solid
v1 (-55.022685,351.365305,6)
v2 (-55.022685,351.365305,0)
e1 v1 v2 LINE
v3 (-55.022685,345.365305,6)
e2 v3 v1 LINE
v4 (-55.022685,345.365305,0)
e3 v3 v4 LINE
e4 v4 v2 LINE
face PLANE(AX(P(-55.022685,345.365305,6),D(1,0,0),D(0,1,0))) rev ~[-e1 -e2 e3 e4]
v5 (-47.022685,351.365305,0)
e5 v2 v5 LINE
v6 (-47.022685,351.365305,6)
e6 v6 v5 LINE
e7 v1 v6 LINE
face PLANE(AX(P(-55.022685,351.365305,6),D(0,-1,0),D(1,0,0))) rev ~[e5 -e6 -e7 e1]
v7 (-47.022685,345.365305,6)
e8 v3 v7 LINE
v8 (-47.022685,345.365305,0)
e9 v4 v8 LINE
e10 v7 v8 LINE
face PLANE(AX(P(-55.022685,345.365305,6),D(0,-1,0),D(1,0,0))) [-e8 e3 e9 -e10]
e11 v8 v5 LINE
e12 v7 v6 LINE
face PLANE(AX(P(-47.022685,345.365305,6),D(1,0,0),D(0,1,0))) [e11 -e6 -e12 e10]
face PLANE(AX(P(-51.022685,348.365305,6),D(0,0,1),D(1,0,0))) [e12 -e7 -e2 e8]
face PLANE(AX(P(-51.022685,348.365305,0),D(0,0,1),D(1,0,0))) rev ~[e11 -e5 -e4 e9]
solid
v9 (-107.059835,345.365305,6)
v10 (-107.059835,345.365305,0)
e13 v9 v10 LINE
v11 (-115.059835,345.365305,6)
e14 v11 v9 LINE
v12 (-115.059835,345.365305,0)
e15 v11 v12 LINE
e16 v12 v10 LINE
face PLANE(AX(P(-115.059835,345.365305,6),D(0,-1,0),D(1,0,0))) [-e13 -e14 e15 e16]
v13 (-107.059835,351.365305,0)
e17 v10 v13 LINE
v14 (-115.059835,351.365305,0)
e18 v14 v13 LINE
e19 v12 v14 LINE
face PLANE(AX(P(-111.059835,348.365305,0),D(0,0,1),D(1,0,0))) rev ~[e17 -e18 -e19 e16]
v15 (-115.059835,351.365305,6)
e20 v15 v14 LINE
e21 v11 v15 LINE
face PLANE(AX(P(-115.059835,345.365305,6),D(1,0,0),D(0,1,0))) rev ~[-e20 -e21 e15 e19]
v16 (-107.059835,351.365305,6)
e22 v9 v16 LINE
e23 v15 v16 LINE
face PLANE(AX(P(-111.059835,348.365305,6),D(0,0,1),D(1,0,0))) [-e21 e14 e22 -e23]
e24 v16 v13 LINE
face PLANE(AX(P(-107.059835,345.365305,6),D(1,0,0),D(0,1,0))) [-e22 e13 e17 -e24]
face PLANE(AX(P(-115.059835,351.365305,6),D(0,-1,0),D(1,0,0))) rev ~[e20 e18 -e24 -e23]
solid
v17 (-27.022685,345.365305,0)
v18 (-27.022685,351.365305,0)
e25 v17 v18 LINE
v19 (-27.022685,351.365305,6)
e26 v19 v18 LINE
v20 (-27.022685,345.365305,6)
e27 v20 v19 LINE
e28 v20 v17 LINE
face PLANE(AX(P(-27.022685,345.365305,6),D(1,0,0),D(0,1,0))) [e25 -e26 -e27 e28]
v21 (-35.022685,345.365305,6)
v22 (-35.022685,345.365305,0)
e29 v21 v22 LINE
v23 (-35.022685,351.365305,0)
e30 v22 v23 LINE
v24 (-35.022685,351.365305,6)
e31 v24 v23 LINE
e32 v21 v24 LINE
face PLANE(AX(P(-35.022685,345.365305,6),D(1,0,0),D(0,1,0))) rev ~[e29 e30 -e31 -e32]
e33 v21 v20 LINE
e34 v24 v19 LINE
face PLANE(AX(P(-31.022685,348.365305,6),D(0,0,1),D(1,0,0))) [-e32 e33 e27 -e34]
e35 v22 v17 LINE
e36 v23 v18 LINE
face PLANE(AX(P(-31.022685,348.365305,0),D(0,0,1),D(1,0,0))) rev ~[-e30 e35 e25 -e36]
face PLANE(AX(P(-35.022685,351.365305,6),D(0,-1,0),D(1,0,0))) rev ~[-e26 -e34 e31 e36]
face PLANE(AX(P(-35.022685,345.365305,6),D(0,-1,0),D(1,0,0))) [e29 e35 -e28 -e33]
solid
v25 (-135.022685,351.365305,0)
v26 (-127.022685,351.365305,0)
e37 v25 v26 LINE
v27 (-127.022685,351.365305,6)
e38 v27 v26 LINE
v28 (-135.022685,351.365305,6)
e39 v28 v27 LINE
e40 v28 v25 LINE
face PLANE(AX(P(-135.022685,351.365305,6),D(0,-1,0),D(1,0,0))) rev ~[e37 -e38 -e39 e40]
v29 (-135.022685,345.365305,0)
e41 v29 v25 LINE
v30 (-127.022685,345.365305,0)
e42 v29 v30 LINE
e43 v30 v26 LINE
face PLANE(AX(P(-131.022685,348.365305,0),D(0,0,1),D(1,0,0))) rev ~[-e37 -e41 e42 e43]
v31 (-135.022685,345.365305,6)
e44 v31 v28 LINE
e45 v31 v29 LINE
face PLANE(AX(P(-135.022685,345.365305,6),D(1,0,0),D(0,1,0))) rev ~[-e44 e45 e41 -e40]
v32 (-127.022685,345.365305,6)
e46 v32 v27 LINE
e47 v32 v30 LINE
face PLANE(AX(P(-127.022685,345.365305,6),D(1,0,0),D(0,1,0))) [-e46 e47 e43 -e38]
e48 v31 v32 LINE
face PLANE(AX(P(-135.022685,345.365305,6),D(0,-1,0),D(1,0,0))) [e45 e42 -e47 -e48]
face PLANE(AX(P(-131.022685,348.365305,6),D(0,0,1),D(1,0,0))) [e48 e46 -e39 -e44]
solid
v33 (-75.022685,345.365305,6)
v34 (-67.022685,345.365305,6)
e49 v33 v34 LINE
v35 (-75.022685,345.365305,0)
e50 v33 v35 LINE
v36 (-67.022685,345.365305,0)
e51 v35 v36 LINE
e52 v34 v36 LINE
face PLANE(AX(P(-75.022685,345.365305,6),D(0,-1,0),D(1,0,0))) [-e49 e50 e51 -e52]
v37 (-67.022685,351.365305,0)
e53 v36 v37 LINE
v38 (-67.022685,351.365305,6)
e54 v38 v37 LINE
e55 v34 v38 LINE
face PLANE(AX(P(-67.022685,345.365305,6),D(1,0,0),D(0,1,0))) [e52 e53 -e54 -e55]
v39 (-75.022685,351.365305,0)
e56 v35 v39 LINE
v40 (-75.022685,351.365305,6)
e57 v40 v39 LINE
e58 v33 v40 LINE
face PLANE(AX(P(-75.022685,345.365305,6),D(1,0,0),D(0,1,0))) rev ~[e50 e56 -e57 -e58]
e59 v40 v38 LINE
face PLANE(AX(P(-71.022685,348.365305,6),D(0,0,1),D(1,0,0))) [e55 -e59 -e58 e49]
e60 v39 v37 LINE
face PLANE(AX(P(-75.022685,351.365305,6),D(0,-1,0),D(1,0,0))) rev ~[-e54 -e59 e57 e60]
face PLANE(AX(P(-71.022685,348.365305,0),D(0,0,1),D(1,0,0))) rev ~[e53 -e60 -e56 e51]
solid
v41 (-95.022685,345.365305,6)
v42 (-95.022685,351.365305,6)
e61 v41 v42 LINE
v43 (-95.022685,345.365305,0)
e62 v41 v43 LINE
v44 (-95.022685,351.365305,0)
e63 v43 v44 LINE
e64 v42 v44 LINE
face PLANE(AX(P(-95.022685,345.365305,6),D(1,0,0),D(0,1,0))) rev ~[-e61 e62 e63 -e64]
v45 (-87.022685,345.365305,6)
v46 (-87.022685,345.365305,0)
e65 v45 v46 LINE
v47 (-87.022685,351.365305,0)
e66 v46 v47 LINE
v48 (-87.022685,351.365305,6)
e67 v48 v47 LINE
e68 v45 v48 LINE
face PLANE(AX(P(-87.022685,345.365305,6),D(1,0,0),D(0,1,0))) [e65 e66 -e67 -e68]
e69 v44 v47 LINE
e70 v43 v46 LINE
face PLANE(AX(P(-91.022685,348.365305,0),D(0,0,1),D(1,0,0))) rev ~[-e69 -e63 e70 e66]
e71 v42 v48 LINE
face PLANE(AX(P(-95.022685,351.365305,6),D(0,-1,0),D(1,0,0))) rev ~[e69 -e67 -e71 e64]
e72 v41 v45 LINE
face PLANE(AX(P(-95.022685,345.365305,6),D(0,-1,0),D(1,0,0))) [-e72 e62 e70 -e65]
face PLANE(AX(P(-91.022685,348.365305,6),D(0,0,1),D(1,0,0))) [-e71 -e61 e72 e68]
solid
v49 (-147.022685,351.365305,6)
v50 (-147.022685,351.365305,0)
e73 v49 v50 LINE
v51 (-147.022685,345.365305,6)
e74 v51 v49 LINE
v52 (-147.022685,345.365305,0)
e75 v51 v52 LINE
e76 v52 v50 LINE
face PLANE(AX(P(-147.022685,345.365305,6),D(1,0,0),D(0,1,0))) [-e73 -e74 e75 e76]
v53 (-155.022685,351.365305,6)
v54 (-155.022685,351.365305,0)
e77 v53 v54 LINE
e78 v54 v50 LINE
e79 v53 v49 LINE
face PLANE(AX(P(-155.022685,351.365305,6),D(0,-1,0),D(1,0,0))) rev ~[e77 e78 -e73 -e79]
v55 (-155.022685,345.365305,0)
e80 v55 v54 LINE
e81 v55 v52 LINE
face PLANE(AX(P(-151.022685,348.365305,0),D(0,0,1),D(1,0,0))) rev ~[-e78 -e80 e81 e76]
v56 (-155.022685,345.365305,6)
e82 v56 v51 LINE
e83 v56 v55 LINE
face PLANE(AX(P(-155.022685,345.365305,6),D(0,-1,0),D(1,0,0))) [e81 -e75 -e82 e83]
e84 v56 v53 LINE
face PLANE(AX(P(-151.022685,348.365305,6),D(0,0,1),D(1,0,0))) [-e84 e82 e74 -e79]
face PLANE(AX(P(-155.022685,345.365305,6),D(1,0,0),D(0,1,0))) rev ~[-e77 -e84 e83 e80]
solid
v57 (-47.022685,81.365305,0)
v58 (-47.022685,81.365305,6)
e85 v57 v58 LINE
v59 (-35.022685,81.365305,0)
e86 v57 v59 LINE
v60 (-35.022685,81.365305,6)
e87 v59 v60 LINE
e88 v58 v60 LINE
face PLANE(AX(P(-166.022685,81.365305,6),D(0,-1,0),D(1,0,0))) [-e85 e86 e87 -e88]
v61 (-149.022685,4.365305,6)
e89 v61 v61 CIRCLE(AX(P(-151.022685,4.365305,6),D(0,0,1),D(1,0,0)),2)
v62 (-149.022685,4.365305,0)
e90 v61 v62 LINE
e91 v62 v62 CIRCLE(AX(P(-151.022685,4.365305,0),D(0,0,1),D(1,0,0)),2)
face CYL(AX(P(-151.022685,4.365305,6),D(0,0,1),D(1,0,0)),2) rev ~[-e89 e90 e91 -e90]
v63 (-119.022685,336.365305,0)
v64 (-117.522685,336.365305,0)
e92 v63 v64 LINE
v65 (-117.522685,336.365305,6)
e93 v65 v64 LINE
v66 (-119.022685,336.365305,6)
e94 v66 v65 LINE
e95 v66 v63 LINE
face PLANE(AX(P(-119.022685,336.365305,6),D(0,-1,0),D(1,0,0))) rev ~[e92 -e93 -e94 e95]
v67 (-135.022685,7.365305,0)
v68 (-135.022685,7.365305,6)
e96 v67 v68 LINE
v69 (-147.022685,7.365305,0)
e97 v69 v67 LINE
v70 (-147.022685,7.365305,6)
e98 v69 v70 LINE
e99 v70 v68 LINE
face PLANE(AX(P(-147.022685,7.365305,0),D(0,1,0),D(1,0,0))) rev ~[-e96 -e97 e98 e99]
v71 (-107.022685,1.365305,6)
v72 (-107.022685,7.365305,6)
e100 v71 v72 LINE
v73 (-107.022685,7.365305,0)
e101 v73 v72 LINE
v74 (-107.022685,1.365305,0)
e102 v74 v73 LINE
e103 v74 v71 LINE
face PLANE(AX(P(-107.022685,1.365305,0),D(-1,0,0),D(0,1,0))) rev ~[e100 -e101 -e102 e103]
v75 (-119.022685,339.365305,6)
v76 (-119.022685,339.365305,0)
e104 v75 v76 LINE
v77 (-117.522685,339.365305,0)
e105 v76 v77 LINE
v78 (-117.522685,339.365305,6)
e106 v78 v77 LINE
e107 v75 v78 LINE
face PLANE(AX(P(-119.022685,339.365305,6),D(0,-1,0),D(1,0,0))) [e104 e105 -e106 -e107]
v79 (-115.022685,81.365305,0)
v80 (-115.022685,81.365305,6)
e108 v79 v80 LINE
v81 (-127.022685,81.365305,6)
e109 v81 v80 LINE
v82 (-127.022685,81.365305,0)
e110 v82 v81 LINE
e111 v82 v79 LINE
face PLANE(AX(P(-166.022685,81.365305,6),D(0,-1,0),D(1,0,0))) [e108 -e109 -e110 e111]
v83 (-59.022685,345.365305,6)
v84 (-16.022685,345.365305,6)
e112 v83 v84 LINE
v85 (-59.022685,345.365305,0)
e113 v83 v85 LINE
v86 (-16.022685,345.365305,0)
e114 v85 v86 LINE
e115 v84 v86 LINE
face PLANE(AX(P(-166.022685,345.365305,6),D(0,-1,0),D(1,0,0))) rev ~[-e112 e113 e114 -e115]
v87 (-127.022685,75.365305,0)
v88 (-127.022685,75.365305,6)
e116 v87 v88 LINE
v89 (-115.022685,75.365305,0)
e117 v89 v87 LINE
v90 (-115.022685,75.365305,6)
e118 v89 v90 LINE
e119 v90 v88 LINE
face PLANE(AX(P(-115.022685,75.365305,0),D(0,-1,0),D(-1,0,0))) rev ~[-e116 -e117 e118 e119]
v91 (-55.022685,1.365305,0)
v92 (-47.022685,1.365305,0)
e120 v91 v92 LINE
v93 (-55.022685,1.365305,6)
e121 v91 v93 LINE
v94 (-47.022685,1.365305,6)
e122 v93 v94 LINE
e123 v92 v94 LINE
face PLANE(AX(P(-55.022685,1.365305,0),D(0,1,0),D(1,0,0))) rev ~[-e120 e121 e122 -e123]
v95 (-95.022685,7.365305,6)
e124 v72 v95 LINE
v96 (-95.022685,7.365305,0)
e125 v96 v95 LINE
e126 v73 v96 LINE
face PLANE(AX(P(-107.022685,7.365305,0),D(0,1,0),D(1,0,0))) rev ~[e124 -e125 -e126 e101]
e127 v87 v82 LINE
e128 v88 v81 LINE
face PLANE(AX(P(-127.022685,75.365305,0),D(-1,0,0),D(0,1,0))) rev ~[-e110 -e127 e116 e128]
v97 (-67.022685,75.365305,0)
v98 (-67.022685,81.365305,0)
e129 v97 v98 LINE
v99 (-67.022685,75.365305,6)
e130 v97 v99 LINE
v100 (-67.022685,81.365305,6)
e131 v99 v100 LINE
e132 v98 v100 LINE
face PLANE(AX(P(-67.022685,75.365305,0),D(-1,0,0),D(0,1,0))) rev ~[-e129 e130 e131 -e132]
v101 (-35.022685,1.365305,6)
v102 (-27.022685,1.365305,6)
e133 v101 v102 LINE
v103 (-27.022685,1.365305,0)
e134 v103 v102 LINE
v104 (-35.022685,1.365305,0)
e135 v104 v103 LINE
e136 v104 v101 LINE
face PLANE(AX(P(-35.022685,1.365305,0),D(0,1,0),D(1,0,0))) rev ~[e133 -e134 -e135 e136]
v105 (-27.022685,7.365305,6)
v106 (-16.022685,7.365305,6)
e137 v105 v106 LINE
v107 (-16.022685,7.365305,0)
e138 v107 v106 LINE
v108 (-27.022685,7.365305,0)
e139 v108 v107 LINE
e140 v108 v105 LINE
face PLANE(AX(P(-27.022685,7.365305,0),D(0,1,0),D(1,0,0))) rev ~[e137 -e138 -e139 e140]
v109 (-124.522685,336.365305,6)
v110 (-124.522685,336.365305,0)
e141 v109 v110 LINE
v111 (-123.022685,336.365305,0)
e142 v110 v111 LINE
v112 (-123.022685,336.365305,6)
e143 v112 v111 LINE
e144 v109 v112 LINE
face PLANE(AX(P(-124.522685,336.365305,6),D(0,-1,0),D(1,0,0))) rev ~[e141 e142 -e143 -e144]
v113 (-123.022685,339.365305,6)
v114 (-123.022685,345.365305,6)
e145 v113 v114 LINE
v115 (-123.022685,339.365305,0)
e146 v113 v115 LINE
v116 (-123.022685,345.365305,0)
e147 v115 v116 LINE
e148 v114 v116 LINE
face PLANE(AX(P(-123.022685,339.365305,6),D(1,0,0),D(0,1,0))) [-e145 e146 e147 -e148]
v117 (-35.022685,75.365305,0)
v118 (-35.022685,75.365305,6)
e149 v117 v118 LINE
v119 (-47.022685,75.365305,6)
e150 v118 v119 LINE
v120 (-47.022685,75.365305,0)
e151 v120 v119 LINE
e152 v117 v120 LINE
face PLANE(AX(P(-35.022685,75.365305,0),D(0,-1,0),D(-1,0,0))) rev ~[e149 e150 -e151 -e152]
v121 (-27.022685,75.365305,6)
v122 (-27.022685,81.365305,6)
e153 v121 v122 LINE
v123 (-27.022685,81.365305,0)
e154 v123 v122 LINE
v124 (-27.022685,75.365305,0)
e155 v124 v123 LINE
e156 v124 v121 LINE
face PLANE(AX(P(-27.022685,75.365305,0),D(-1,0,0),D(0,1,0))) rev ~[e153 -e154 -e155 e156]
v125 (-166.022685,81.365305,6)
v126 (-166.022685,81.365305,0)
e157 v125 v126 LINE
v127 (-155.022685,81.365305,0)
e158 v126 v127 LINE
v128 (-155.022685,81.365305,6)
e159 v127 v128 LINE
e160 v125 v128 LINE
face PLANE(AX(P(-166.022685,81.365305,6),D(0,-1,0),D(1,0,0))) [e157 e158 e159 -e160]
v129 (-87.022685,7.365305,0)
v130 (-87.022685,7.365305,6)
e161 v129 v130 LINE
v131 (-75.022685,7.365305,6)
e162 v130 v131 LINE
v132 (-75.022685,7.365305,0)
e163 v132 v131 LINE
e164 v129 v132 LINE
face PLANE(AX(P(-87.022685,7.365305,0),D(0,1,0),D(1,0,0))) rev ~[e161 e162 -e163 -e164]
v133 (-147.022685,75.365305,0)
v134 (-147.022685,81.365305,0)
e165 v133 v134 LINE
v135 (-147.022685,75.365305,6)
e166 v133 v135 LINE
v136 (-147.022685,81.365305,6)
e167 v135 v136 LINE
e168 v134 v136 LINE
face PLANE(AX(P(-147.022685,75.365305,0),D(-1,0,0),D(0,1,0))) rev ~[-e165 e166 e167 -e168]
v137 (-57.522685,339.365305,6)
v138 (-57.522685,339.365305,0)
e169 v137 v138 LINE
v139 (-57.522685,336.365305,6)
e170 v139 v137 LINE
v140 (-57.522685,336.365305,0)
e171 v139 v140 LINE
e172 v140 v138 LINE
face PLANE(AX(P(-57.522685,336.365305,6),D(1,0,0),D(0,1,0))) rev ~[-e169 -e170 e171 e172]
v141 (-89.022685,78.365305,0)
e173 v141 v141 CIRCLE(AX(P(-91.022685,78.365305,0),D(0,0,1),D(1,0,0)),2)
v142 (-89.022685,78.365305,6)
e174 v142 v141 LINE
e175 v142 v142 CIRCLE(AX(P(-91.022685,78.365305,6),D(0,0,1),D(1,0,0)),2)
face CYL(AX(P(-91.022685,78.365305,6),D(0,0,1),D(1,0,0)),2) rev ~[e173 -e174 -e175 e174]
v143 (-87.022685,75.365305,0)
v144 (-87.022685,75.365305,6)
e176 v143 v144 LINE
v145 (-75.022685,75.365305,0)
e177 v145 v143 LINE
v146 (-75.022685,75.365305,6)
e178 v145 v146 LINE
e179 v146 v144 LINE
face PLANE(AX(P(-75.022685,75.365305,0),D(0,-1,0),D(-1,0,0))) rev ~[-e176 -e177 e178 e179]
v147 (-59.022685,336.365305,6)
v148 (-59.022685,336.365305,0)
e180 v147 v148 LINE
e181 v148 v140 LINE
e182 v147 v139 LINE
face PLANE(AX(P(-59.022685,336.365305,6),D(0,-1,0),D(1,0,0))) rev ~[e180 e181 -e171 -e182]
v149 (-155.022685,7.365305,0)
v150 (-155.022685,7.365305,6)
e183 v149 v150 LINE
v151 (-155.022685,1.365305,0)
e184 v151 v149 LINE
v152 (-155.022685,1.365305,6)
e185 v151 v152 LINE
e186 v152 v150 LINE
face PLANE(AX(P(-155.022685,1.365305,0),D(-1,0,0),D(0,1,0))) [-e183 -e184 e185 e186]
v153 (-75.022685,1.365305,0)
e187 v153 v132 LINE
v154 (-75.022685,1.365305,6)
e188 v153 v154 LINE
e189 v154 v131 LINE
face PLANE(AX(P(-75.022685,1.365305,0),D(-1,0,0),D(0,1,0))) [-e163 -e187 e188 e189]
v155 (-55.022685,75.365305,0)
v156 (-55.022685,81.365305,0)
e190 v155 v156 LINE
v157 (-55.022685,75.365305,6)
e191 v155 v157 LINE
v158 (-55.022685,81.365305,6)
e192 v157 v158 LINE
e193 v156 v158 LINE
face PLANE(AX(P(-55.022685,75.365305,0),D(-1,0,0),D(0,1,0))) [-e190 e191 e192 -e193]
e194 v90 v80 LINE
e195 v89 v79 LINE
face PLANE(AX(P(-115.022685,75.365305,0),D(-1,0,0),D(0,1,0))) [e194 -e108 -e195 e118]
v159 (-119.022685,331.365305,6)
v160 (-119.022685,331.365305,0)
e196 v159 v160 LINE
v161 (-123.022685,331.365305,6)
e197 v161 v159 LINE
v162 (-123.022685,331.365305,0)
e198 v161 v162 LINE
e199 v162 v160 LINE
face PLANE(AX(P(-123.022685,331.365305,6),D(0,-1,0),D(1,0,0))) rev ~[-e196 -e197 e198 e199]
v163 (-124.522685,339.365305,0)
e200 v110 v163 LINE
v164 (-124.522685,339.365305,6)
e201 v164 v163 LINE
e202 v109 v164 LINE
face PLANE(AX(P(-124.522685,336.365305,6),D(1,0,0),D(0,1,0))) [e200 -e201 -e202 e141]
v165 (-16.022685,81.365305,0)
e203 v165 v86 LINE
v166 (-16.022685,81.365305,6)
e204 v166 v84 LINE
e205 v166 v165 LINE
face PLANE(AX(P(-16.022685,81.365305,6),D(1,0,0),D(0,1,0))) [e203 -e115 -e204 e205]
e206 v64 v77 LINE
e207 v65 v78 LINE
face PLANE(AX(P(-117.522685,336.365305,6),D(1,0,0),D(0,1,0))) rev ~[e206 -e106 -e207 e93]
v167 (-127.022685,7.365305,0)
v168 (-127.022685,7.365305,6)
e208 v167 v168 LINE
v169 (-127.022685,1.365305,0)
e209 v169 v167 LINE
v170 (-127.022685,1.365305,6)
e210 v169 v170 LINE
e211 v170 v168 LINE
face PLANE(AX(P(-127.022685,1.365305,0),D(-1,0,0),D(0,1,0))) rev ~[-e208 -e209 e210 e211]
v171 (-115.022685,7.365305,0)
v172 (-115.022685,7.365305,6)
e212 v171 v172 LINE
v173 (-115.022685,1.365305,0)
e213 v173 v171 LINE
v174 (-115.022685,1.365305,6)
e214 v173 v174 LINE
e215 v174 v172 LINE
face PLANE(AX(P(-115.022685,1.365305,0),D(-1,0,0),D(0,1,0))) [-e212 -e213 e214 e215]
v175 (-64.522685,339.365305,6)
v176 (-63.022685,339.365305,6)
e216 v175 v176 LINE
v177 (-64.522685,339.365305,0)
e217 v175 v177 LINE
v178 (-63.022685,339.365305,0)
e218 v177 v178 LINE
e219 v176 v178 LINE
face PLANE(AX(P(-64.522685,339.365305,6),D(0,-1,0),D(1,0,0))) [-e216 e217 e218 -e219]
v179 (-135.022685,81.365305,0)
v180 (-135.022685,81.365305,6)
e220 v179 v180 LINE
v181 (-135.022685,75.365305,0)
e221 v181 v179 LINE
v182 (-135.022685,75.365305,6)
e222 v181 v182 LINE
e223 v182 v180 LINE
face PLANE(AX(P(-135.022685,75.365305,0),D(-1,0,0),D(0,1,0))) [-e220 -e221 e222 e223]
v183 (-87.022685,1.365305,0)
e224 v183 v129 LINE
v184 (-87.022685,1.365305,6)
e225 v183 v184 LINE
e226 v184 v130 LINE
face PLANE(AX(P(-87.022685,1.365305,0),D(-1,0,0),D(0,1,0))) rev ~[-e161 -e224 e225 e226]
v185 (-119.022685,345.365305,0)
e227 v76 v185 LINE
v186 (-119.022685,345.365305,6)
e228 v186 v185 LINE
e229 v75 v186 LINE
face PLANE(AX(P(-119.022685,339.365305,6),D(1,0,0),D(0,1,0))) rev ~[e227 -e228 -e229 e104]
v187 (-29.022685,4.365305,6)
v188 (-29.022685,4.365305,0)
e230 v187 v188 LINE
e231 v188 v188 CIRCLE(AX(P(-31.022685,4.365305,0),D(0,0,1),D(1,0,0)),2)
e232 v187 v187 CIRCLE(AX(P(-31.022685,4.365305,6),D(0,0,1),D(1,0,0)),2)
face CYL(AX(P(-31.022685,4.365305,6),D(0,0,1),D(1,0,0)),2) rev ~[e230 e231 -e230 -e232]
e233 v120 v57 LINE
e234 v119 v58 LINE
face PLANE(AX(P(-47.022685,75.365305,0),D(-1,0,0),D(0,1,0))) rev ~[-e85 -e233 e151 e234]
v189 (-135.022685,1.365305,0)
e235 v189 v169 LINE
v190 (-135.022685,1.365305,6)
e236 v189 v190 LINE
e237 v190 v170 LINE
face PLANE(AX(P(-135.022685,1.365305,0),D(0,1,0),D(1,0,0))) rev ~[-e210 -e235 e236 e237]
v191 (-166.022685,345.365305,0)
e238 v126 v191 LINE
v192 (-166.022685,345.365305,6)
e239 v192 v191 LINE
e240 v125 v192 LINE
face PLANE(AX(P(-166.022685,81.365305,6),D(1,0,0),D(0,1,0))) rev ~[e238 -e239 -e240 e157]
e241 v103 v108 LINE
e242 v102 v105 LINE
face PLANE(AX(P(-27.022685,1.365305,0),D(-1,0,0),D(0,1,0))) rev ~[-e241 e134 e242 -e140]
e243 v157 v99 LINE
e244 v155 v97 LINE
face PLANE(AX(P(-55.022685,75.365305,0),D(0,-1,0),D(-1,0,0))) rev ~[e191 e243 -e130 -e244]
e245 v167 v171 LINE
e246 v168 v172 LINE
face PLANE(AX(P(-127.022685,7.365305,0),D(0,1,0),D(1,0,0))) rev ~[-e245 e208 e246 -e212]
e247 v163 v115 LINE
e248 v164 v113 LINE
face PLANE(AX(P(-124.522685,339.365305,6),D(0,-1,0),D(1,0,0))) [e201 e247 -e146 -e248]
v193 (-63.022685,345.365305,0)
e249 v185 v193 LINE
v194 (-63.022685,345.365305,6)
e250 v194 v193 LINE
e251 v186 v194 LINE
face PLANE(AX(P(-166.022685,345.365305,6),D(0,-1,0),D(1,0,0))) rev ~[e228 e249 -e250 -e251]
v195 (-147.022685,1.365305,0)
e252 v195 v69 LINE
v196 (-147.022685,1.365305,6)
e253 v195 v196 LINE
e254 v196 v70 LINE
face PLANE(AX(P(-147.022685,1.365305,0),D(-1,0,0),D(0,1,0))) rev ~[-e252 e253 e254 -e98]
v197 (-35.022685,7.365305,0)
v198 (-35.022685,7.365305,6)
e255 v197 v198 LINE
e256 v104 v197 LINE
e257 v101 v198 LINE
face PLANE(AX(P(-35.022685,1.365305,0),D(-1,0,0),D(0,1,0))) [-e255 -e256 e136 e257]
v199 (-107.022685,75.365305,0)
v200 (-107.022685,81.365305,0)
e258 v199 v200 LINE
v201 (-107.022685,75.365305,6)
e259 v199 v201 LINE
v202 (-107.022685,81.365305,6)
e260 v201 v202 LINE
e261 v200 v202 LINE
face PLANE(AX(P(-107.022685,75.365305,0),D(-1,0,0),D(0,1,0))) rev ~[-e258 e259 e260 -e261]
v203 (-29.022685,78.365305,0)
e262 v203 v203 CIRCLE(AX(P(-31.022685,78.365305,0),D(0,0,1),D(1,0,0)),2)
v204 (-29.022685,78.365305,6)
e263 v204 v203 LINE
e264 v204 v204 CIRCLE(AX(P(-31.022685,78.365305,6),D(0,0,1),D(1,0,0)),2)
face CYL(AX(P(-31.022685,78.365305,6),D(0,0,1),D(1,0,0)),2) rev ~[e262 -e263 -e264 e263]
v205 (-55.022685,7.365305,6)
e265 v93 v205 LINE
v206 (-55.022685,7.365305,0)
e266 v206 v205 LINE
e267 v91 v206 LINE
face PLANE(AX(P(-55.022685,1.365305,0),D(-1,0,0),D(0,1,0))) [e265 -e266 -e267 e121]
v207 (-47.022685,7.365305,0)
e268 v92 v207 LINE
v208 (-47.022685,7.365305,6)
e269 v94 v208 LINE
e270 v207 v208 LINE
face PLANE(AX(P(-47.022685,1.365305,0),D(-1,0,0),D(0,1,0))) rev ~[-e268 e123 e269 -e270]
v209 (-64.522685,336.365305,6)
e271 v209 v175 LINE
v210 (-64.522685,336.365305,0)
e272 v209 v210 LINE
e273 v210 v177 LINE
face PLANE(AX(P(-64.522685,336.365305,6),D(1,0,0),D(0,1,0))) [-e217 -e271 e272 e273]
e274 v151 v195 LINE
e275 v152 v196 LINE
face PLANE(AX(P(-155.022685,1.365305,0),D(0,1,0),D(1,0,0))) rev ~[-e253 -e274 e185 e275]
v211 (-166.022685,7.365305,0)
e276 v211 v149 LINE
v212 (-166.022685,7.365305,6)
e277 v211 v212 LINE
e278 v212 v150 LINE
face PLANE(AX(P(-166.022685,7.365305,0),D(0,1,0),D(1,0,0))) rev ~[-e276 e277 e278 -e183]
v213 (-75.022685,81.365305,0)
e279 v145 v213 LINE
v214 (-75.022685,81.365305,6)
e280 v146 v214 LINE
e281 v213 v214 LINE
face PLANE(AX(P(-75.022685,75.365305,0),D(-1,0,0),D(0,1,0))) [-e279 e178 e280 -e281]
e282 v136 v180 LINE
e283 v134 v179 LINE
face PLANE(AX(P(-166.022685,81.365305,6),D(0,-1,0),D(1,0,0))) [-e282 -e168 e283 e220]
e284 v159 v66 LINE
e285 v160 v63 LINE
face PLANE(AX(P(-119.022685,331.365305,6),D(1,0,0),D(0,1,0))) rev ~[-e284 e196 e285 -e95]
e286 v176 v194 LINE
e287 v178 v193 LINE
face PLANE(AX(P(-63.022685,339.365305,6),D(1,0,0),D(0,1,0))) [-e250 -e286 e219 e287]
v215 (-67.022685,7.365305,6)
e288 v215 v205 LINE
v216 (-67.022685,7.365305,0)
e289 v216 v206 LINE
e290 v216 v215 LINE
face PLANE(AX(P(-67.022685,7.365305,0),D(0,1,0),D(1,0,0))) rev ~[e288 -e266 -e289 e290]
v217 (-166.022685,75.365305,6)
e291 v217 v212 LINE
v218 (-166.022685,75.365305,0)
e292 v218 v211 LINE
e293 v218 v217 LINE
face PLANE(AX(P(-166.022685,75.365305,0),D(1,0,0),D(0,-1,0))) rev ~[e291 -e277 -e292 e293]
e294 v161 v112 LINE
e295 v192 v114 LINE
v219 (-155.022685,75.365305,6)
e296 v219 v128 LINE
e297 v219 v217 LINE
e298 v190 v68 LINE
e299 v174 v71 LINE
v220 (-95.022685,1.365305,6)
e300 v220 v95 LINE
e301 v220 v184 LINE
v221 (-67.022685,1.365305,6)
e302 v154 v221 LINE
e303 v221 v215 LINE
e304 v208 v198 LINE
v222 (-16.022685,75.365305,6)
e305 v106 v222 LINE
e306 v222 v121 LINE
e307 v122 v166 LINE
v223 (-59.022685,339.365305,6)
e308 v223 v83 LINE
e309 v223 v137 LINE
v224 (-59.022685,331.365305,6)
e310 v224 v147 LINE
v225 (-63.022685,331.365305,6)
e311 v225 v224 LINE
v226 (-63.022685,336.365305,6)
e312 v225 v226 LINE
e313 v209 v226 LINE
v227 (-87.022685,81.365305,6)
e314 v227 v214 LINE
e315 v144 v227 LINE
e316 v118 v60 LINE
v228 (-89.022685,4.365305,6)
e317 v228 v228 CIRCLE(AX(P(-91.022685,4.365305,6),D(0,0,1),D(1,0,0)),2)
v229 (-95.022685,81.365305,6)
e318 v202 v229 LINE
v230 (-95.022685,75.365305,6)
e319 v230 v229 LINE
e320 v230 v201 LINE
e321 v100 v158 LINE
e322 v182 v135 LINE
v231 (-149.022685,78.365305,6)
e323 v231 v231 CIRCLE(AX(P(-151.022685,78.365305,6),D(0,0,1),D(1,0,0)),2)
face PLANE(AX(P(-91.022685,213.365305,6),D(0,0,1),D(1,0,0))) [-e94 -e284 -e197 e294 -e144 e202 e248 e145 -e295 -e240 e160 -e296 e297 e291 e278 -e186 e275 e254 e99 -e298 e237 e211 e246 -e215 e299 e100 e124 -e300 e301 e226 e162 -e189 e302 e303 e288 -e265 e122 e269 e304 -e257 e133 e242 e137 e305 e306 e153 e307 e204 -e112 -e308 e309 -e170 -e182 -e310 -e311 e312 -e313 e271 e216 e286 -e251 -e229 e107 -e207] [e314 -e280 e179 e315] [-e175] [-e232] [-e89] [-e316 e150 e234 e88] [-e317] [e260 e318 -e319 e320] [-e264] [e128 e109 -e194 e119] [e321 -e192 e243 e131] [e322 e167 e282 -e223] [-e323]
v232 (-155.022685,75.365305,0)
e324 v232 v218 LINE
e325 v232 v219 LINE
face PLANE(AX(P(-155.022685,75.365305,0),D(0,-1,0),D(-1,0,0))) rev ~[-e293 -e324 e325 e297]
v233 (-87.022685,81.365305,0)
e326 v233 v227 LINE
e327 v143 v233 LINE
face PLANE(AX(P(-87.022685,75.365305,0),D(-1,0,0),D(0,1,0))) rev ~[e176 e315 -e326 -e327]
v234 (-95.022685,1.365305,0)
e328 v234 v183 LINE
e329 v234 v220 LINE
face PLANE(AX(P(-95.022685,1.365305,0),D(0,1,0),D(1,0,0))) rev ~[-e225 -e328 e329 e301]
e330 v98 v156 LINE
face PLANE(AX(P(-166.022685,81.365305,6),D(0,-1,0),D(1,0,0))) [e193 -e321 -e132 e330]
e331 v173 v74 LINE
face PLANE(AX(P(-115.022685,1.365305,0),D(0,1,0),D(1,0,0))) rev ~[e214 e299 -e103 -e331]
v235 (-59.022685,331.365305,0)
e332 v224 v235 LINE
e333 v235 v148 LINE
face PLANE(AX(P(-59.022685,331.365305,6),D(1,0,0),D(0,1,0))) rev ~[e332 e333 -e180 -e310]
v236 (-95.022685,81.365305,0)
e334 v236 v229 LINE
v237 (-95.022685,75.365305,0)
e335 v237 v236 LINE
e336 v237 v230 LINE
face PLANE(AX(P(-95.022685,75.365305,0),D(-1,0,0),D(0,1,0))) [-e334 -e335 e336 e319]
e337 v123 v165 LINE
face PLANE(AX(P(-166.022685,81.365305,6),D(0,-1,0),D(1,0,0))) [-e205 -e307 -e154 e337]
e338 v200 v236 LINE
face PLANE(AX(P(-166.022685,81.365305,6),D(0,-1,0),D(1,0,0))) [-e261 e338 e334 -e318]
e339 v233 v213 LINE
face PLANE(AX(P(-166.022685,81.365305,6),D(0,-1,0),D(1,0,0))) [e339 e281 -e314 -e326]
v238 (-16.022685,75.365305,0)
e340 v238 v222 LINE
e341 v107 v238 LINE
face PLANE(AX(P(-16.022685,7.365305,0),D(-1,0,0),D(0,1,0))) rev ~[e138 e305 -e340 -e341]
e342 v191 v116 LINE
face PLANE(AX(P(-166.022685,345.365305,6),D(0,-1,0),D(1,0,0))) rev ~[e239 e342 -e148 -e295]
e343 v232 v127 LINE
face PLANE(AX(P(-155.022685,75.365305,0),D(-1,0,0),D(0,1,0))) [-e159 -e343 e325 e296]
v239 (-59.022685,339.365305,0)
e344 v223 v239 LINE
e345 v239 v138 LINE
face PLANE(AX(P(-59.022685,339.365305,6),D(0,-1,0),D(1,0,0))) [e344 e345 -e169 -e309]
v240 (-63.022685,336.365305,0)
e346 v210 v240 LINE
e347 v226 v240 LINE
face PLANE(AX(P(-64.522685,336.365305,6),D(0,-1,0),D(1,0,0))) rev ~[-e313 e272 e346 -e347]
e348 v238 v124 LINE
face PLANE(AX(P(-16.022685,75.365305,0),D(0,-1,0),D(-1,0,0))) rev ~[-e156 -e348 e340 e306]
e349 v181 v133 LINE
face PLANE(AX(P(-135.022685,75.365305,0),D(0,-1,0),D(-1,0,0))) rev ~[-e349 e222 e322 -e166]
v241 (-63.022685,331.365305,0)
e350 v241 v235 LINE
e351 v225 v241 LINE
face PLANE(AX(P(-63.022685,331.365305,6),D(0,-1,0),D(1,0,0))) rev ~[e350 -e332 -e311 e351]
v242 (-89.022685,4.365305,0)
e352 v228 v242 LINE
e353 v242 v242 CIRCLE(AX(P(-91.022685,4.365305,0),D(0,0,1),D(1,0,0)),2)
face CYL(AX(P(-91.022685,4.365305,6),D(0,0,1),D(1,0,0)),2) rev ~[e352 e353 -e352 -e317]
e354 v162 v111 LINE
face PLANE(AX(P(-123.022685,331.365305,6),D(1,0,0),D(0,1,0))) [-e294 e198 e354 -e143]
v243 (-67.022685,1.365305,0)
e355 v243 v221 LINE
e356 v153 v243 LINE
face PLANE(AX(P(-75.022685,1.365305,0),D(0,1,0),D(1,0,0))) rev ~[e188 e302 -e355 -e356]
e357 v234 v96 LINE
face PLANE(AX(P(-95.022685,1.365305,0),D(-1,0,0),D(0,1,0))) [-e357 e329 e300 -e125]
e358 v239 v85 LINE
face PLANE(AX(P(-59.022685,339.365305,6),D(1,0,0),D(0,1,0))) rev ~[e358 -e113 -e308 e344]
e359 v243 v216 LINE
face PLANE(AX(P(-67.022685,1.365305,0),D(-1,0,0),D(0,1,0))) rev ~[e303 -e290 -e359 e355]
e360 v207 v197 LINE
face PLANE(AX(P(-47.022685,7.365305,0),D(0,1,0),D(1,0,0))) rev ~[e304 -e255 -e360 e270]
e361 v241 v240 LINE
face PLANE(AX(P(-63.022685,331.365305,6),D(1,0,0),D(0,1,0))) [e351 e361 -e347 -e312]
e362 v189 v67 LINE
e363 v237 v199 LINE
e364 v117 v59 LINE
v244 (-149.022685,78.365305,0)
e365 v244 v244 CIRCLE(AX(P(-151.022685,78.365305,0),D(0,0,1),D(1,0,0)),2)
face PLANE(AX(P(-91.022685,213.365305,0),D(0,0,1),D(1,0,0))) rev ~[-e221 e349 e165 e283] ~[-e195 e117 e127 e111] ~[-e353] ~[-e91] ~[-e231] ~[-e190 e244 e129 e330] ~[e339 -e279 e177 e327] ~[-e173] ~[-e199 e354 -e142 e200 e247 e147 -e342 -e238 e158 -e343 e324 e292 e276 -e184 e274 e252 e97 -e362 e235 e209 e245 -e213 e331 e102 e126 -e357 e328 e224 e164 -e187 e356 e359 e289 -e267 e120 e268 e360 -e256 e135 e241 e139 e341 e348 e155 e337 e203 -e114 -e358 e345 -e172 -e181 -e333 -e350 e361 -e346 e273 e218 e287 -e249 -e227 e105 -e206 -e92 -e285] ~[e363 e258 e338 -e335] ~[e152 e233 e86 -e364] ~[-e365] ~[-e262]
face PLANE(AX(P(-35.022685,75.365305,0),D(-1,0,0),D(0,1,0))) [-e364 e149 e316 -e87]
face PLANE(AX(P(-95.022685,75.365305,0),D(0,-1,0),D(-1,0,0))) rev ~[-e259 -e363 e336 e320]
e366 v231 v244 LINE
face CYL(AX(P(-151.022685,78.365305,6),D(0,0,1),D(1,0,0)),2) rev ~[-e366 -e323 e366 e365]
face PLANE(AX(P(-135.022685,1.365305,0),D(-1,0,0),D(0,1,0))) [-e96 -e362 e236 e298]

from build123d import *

# Parameters (mm, degrees)
ESQUISSE1_W             = 8
ESQUISSE1_H             = 6
BOSS_EXTRU_1_DEPTH      = 6
ESQUISSE2_W             = 150
ESQUISSE2_H             = 264
BOSS_EXTRU_2_DEPTH      = 6
ESQUISSE3_W             = 8
ESQUISSE3_H             = 6
BOSS_EXTRU_3_DEPTH      = 6
BOSS_EXTRU_3_2_DEPTH    = 6
BOSS_EXTRU_3_3_DEPTH    = 6
BOSS_EXTRU_3_4_DEPTH    = 6
BOSS_EXTRU_3_5_DEPTH    = 6
BOSS_EXTRU_3_6_DEPTH    = 6
BOSS_EXTRU_3_7_DEPTH    = 6
ESQUISSE4_R             = 2
ENL_V_MAT_EXTRU_1_DEPTH = 389.660661272
ESQUISSE5_R             = 2
ENL_V_MAT_EXTRU_2_DEPTH = 389.660661272
ESQUISSE6_W             = 4
ESQUISSE6_H             = 14
ESQUISSE6_W_2           = 7
ESQUISSE6_H_2           = 3
ENL_V_MAT_EXTRU_3_DEPTH = 389.660661272


with BuildPart() as part:
    # Esquisse1 → Boss.-Extru.1 (new body)
    with BuildSketch(Plane.XY):
        with Locations((-151.022684861, 78.365305248)):
            Rectangle(ESQUISSE1_W, ESQUISSE1_H)
        with Locations((-131.022684861, 78.365305248)):
            Rectangle(ESQUISSE1_W, ESQUISSE1_H)
        with Locations((-111.022684861, 78.365305248)):
            Rectangle(ESQUISSE1_W, ESQUISSE1_H)
        with Locations((-91.022684861, 78.365305248)):
            Rectangle(ESQUISSE1_W, ESQUISSE1_H)
        with Locations((-71.022684861, 78.365305248)):
            Rectangle(ESQUISSE1_W, ESQUISSE1_H)
        with Locations((-51.022684861, 78.365305248)):
            Rectangle(ESQUISSE1_W, ESQUISSE1_H)
        with Locations((-31.022684861, 78.365305248)):
            Rectangle(ESQUISSE1_W, ESQUISSE1_H)
        with Locations((-31.022684861, 4.365305248)):
            Rectangle(ESQUISSE1_W, ESQUISSE1_H)
        with Locations((-51.022684861, 4.365305248)):
            Rectangle(ESQUISSE1_W, ESQUISSE1_H)
        with Locations((-71.022684861, 4.365305248)):
            Rectangle(ESQUISSE1_W, ESQUISSE1_H)
        with Locations((-91.022684861, 4.365305248)):
            Rectangle(ESQUISSE1_W, ESQUISSE1_H)
        with Locations((-111.022684861, 4.365305248)):
            Rectangle(ESQUISSE1_W, ESQUISSE1_H)
        with Locations((-131.022684861, 4.365305248)):
            Rectangle(ESQUISSE1_W, ESQUISSE1_H)
        with Locations((-151.022684861, 4.365305248)):
            Rectangle(ESQUISSE1_W, ESQUISSE1_H)
        Polygon((-166.022684861, 41.365305248), (-166.022684861, 7.365305248), (-155.022684861, 7.365305248), (-147.022684861, 7.365305248), (-135.022684861, 7.365305248), (-127.022684861, 7.365305248), (-115.022684861, 7.365305248), (-107.022684861, 7.365305248), (-95.022684861, 7.365305248), (-87.022684861, 7.365305248), (-75.022684861, 7.365305248), (-67.022684861, 7.365305248), (-55.022684861, 7.365305248), (-47.022684861, 7.365305248), (-35.022684861, 7.365305248), (-27.022684861, 7.365305248), (-16.022684861, 7.365305248), (-16.022684861, 41.365305248), align=None)
        Polygon((-166.022684861, 75.365305248), (-166.022684861, 41.365305248), (-16.022684861, 41.365305248), (-16.022684861, 75.365305248), (-27.022684861, 75.365305248), (-35.022684861, 75.365305248), (-47.022684861, 75.365305248), (-55.022684861, 75.365305248), (-67.022684861, 75.365305248), (-75.022684861, 75.365305248), (-87.022684861, 75.365305248), (-95.022684861, 75.365305248), (-107.022684861, 75.365305248), (-115.022684861, 75.365305248), (-127.022684861, 75.365305248), (-135.022684861, 75.365305248), (-147.022684861, 75.365305248), (-155.022684861, 75.365305248), align=None)
    extrude(amount=BOSS_EXTRU_1_DEPTH)

    # Esquisse2 → Boss.-Extru.2 (add)
    with BuildSketch(Plane.XY.offset(6)):
        with Locations((-91.022684861, 213.365305248)):
            Rectangle(ESQUISSE2_W, ESQUISSE2_H)
    extrude(amount=-BOSS_EXTRU_2_DEPTH)

    # Esquisse4 → Enlèv. mat.-Extru.1 (cut, through all)
    with BuildSketch(Plane.XY.offset(6)):
        with Locations((-31.022684861, 78.365305248)):
            Circle(ESQUISSE4_R)
        with Locations((-151.022684861, 78.365305248)):
            Circle(ESQUISSE4_R)
        with Locations((-91.022684861, 78.365305248)):
            Circle(ESQUISSE4_R)
    extrude(amount=-ENL_V_MAT_EXTRU_1_DEPTH, mode=Mode.SUBTRACT)

    # Esquisse5 → Enlèv. mat.-Extru.2 (cut, through all)
    with BuildSketch(Plane.XY.offset(6)):
        with Locations((-151.022684861, 4.365305248)):
            Circle(ESQUISSE5_R)
        with Locations((-91.022684861, 4.365305248)):
            Circle(ESQUISSE5_R)
        with Locations((-31.022684861, 4.365305248)):
            Circle(ESQUISSE5_R)
    extrude(amount=-ENL_V_MAT_EXTRU_2_DEPTH, mode=Mode.SUBTRACT)

    # Esquisse6 → Enlèv. mat.-Extru.3 (cut, through all)
    with BuildSketch(Plane.XY.offset(6)):
        with Locations((-121.022684861, 338.365305248)):
            Rectangle(ESQUISSE6_W, ESQUISSE6_H)
        with Locations((-121.022684861, 337.865305248)):
            Rectangle(ESQUISSE6_W_2, ESQUISSE6_H_2)
        with Locations((-61.022684861, 338.365305248)):
            Rectangle(ESQUISSE6_W, ESQUISSE6_H)
        with Locations((-61.022684861, 337.865305248)):
            Rectangle(ESQUISSE6_W_2, ESQUISSE6_H_2)
    extrude(amount=-ENL_V_MAT_EXTRU_3_DEPTH, mode=Mode.SUBTRACT)


with BuildPart() as body_2:
    # Esquisse3 → Boss.-Extru.3 (new body)
    with BuildSketch(Plane.XY.offset(6)):
        with Locations((-151.022684861, 348.365305248)):
            Rectangle(ESQUISSE3_W, ESQUISSE3_H)
    extrude(amount=-BOSS_EXTRU_3_DEPTH)


with BuildPart() as body_3:
    # Esquisse3 → Boss.-Extru.3 2 (new body)
    with BuildSketch(Plane.XY.offset(6)):
        with Locations((-131.022684861, 348.365305248)):
            Rectangle(ESQUISSE3_W, ESQUISSE3_H)
    extrude(amount=-BOSS_EXTRU_3_2_DEPTH)


with BuildPart() as body_4:
    # Esquisse3 → Boss.-Extru.3 3 (new body)
    with BuildSketch(Plane.XY.offset(6)):
        with Locations((-111.059834835, 348.365305248)):
            Rectangle(ESQUISSE3_W, ESQUISSE3_H)
    extrude(amount=-BOSS_EXTRU_3_3_DEPTH)


with BuildPart() as body_5:
    # Esquisse3 → Boss.-Extru.3 4 (new body)
    with BuildSketch(Plane.XY.offset(6)):
        with Locations((-91.022684861, 348.365305248)):
            Rectangle(ESQUISSE3_W, ESQUISSE3_H)
    extrude(amount=-BOSS_EXTRU_3_4_DEPTH)


with BuildPart() as body_6:
    # Esquisse3 → Boss.-Extru.3 5 (new body)
    with BuildSketch(Plane.XY.offset(6)):
        with Locations((-71.022684861, 348.365305248)):
            Rectangle(ESQUISSE3_W, ESQUISSE3_H)
    extrude(amount=-BOSS_EXTRU_3_5_DEPTH)


with BuildPart() as body_7:
    # Esquisse3 → Boss.-Extru.3 6 (new body)
    with BuildSketch(Plane.XY.offset(6)):
        with Locations((-51.022684861, 348.365305248)):
            Rectangle(ESQUISSE3_W, ESQUISSE3_H)
    extrude(amount=-BOSS_EXTRU_3_6_DEPTH)


with BuildPart() as body_8:
    # Esquisse3 → Boss.-Extru.3 7 (new body)
    with BuildSketch(Plane.XY.offset(6)):
        with Locations((-31.022684861, 348.365305248)):
            Rectangle(ESQUISSE3_W, ESQUISSE3_H)
    extrude(amount=-BOSS_EXTRU_3_7_DEPTH)


solid = Compound([part.part, body_2.part, body_3.part, body_4.part, body_5.part, body_6.part, body_7.part, body_8.part])
